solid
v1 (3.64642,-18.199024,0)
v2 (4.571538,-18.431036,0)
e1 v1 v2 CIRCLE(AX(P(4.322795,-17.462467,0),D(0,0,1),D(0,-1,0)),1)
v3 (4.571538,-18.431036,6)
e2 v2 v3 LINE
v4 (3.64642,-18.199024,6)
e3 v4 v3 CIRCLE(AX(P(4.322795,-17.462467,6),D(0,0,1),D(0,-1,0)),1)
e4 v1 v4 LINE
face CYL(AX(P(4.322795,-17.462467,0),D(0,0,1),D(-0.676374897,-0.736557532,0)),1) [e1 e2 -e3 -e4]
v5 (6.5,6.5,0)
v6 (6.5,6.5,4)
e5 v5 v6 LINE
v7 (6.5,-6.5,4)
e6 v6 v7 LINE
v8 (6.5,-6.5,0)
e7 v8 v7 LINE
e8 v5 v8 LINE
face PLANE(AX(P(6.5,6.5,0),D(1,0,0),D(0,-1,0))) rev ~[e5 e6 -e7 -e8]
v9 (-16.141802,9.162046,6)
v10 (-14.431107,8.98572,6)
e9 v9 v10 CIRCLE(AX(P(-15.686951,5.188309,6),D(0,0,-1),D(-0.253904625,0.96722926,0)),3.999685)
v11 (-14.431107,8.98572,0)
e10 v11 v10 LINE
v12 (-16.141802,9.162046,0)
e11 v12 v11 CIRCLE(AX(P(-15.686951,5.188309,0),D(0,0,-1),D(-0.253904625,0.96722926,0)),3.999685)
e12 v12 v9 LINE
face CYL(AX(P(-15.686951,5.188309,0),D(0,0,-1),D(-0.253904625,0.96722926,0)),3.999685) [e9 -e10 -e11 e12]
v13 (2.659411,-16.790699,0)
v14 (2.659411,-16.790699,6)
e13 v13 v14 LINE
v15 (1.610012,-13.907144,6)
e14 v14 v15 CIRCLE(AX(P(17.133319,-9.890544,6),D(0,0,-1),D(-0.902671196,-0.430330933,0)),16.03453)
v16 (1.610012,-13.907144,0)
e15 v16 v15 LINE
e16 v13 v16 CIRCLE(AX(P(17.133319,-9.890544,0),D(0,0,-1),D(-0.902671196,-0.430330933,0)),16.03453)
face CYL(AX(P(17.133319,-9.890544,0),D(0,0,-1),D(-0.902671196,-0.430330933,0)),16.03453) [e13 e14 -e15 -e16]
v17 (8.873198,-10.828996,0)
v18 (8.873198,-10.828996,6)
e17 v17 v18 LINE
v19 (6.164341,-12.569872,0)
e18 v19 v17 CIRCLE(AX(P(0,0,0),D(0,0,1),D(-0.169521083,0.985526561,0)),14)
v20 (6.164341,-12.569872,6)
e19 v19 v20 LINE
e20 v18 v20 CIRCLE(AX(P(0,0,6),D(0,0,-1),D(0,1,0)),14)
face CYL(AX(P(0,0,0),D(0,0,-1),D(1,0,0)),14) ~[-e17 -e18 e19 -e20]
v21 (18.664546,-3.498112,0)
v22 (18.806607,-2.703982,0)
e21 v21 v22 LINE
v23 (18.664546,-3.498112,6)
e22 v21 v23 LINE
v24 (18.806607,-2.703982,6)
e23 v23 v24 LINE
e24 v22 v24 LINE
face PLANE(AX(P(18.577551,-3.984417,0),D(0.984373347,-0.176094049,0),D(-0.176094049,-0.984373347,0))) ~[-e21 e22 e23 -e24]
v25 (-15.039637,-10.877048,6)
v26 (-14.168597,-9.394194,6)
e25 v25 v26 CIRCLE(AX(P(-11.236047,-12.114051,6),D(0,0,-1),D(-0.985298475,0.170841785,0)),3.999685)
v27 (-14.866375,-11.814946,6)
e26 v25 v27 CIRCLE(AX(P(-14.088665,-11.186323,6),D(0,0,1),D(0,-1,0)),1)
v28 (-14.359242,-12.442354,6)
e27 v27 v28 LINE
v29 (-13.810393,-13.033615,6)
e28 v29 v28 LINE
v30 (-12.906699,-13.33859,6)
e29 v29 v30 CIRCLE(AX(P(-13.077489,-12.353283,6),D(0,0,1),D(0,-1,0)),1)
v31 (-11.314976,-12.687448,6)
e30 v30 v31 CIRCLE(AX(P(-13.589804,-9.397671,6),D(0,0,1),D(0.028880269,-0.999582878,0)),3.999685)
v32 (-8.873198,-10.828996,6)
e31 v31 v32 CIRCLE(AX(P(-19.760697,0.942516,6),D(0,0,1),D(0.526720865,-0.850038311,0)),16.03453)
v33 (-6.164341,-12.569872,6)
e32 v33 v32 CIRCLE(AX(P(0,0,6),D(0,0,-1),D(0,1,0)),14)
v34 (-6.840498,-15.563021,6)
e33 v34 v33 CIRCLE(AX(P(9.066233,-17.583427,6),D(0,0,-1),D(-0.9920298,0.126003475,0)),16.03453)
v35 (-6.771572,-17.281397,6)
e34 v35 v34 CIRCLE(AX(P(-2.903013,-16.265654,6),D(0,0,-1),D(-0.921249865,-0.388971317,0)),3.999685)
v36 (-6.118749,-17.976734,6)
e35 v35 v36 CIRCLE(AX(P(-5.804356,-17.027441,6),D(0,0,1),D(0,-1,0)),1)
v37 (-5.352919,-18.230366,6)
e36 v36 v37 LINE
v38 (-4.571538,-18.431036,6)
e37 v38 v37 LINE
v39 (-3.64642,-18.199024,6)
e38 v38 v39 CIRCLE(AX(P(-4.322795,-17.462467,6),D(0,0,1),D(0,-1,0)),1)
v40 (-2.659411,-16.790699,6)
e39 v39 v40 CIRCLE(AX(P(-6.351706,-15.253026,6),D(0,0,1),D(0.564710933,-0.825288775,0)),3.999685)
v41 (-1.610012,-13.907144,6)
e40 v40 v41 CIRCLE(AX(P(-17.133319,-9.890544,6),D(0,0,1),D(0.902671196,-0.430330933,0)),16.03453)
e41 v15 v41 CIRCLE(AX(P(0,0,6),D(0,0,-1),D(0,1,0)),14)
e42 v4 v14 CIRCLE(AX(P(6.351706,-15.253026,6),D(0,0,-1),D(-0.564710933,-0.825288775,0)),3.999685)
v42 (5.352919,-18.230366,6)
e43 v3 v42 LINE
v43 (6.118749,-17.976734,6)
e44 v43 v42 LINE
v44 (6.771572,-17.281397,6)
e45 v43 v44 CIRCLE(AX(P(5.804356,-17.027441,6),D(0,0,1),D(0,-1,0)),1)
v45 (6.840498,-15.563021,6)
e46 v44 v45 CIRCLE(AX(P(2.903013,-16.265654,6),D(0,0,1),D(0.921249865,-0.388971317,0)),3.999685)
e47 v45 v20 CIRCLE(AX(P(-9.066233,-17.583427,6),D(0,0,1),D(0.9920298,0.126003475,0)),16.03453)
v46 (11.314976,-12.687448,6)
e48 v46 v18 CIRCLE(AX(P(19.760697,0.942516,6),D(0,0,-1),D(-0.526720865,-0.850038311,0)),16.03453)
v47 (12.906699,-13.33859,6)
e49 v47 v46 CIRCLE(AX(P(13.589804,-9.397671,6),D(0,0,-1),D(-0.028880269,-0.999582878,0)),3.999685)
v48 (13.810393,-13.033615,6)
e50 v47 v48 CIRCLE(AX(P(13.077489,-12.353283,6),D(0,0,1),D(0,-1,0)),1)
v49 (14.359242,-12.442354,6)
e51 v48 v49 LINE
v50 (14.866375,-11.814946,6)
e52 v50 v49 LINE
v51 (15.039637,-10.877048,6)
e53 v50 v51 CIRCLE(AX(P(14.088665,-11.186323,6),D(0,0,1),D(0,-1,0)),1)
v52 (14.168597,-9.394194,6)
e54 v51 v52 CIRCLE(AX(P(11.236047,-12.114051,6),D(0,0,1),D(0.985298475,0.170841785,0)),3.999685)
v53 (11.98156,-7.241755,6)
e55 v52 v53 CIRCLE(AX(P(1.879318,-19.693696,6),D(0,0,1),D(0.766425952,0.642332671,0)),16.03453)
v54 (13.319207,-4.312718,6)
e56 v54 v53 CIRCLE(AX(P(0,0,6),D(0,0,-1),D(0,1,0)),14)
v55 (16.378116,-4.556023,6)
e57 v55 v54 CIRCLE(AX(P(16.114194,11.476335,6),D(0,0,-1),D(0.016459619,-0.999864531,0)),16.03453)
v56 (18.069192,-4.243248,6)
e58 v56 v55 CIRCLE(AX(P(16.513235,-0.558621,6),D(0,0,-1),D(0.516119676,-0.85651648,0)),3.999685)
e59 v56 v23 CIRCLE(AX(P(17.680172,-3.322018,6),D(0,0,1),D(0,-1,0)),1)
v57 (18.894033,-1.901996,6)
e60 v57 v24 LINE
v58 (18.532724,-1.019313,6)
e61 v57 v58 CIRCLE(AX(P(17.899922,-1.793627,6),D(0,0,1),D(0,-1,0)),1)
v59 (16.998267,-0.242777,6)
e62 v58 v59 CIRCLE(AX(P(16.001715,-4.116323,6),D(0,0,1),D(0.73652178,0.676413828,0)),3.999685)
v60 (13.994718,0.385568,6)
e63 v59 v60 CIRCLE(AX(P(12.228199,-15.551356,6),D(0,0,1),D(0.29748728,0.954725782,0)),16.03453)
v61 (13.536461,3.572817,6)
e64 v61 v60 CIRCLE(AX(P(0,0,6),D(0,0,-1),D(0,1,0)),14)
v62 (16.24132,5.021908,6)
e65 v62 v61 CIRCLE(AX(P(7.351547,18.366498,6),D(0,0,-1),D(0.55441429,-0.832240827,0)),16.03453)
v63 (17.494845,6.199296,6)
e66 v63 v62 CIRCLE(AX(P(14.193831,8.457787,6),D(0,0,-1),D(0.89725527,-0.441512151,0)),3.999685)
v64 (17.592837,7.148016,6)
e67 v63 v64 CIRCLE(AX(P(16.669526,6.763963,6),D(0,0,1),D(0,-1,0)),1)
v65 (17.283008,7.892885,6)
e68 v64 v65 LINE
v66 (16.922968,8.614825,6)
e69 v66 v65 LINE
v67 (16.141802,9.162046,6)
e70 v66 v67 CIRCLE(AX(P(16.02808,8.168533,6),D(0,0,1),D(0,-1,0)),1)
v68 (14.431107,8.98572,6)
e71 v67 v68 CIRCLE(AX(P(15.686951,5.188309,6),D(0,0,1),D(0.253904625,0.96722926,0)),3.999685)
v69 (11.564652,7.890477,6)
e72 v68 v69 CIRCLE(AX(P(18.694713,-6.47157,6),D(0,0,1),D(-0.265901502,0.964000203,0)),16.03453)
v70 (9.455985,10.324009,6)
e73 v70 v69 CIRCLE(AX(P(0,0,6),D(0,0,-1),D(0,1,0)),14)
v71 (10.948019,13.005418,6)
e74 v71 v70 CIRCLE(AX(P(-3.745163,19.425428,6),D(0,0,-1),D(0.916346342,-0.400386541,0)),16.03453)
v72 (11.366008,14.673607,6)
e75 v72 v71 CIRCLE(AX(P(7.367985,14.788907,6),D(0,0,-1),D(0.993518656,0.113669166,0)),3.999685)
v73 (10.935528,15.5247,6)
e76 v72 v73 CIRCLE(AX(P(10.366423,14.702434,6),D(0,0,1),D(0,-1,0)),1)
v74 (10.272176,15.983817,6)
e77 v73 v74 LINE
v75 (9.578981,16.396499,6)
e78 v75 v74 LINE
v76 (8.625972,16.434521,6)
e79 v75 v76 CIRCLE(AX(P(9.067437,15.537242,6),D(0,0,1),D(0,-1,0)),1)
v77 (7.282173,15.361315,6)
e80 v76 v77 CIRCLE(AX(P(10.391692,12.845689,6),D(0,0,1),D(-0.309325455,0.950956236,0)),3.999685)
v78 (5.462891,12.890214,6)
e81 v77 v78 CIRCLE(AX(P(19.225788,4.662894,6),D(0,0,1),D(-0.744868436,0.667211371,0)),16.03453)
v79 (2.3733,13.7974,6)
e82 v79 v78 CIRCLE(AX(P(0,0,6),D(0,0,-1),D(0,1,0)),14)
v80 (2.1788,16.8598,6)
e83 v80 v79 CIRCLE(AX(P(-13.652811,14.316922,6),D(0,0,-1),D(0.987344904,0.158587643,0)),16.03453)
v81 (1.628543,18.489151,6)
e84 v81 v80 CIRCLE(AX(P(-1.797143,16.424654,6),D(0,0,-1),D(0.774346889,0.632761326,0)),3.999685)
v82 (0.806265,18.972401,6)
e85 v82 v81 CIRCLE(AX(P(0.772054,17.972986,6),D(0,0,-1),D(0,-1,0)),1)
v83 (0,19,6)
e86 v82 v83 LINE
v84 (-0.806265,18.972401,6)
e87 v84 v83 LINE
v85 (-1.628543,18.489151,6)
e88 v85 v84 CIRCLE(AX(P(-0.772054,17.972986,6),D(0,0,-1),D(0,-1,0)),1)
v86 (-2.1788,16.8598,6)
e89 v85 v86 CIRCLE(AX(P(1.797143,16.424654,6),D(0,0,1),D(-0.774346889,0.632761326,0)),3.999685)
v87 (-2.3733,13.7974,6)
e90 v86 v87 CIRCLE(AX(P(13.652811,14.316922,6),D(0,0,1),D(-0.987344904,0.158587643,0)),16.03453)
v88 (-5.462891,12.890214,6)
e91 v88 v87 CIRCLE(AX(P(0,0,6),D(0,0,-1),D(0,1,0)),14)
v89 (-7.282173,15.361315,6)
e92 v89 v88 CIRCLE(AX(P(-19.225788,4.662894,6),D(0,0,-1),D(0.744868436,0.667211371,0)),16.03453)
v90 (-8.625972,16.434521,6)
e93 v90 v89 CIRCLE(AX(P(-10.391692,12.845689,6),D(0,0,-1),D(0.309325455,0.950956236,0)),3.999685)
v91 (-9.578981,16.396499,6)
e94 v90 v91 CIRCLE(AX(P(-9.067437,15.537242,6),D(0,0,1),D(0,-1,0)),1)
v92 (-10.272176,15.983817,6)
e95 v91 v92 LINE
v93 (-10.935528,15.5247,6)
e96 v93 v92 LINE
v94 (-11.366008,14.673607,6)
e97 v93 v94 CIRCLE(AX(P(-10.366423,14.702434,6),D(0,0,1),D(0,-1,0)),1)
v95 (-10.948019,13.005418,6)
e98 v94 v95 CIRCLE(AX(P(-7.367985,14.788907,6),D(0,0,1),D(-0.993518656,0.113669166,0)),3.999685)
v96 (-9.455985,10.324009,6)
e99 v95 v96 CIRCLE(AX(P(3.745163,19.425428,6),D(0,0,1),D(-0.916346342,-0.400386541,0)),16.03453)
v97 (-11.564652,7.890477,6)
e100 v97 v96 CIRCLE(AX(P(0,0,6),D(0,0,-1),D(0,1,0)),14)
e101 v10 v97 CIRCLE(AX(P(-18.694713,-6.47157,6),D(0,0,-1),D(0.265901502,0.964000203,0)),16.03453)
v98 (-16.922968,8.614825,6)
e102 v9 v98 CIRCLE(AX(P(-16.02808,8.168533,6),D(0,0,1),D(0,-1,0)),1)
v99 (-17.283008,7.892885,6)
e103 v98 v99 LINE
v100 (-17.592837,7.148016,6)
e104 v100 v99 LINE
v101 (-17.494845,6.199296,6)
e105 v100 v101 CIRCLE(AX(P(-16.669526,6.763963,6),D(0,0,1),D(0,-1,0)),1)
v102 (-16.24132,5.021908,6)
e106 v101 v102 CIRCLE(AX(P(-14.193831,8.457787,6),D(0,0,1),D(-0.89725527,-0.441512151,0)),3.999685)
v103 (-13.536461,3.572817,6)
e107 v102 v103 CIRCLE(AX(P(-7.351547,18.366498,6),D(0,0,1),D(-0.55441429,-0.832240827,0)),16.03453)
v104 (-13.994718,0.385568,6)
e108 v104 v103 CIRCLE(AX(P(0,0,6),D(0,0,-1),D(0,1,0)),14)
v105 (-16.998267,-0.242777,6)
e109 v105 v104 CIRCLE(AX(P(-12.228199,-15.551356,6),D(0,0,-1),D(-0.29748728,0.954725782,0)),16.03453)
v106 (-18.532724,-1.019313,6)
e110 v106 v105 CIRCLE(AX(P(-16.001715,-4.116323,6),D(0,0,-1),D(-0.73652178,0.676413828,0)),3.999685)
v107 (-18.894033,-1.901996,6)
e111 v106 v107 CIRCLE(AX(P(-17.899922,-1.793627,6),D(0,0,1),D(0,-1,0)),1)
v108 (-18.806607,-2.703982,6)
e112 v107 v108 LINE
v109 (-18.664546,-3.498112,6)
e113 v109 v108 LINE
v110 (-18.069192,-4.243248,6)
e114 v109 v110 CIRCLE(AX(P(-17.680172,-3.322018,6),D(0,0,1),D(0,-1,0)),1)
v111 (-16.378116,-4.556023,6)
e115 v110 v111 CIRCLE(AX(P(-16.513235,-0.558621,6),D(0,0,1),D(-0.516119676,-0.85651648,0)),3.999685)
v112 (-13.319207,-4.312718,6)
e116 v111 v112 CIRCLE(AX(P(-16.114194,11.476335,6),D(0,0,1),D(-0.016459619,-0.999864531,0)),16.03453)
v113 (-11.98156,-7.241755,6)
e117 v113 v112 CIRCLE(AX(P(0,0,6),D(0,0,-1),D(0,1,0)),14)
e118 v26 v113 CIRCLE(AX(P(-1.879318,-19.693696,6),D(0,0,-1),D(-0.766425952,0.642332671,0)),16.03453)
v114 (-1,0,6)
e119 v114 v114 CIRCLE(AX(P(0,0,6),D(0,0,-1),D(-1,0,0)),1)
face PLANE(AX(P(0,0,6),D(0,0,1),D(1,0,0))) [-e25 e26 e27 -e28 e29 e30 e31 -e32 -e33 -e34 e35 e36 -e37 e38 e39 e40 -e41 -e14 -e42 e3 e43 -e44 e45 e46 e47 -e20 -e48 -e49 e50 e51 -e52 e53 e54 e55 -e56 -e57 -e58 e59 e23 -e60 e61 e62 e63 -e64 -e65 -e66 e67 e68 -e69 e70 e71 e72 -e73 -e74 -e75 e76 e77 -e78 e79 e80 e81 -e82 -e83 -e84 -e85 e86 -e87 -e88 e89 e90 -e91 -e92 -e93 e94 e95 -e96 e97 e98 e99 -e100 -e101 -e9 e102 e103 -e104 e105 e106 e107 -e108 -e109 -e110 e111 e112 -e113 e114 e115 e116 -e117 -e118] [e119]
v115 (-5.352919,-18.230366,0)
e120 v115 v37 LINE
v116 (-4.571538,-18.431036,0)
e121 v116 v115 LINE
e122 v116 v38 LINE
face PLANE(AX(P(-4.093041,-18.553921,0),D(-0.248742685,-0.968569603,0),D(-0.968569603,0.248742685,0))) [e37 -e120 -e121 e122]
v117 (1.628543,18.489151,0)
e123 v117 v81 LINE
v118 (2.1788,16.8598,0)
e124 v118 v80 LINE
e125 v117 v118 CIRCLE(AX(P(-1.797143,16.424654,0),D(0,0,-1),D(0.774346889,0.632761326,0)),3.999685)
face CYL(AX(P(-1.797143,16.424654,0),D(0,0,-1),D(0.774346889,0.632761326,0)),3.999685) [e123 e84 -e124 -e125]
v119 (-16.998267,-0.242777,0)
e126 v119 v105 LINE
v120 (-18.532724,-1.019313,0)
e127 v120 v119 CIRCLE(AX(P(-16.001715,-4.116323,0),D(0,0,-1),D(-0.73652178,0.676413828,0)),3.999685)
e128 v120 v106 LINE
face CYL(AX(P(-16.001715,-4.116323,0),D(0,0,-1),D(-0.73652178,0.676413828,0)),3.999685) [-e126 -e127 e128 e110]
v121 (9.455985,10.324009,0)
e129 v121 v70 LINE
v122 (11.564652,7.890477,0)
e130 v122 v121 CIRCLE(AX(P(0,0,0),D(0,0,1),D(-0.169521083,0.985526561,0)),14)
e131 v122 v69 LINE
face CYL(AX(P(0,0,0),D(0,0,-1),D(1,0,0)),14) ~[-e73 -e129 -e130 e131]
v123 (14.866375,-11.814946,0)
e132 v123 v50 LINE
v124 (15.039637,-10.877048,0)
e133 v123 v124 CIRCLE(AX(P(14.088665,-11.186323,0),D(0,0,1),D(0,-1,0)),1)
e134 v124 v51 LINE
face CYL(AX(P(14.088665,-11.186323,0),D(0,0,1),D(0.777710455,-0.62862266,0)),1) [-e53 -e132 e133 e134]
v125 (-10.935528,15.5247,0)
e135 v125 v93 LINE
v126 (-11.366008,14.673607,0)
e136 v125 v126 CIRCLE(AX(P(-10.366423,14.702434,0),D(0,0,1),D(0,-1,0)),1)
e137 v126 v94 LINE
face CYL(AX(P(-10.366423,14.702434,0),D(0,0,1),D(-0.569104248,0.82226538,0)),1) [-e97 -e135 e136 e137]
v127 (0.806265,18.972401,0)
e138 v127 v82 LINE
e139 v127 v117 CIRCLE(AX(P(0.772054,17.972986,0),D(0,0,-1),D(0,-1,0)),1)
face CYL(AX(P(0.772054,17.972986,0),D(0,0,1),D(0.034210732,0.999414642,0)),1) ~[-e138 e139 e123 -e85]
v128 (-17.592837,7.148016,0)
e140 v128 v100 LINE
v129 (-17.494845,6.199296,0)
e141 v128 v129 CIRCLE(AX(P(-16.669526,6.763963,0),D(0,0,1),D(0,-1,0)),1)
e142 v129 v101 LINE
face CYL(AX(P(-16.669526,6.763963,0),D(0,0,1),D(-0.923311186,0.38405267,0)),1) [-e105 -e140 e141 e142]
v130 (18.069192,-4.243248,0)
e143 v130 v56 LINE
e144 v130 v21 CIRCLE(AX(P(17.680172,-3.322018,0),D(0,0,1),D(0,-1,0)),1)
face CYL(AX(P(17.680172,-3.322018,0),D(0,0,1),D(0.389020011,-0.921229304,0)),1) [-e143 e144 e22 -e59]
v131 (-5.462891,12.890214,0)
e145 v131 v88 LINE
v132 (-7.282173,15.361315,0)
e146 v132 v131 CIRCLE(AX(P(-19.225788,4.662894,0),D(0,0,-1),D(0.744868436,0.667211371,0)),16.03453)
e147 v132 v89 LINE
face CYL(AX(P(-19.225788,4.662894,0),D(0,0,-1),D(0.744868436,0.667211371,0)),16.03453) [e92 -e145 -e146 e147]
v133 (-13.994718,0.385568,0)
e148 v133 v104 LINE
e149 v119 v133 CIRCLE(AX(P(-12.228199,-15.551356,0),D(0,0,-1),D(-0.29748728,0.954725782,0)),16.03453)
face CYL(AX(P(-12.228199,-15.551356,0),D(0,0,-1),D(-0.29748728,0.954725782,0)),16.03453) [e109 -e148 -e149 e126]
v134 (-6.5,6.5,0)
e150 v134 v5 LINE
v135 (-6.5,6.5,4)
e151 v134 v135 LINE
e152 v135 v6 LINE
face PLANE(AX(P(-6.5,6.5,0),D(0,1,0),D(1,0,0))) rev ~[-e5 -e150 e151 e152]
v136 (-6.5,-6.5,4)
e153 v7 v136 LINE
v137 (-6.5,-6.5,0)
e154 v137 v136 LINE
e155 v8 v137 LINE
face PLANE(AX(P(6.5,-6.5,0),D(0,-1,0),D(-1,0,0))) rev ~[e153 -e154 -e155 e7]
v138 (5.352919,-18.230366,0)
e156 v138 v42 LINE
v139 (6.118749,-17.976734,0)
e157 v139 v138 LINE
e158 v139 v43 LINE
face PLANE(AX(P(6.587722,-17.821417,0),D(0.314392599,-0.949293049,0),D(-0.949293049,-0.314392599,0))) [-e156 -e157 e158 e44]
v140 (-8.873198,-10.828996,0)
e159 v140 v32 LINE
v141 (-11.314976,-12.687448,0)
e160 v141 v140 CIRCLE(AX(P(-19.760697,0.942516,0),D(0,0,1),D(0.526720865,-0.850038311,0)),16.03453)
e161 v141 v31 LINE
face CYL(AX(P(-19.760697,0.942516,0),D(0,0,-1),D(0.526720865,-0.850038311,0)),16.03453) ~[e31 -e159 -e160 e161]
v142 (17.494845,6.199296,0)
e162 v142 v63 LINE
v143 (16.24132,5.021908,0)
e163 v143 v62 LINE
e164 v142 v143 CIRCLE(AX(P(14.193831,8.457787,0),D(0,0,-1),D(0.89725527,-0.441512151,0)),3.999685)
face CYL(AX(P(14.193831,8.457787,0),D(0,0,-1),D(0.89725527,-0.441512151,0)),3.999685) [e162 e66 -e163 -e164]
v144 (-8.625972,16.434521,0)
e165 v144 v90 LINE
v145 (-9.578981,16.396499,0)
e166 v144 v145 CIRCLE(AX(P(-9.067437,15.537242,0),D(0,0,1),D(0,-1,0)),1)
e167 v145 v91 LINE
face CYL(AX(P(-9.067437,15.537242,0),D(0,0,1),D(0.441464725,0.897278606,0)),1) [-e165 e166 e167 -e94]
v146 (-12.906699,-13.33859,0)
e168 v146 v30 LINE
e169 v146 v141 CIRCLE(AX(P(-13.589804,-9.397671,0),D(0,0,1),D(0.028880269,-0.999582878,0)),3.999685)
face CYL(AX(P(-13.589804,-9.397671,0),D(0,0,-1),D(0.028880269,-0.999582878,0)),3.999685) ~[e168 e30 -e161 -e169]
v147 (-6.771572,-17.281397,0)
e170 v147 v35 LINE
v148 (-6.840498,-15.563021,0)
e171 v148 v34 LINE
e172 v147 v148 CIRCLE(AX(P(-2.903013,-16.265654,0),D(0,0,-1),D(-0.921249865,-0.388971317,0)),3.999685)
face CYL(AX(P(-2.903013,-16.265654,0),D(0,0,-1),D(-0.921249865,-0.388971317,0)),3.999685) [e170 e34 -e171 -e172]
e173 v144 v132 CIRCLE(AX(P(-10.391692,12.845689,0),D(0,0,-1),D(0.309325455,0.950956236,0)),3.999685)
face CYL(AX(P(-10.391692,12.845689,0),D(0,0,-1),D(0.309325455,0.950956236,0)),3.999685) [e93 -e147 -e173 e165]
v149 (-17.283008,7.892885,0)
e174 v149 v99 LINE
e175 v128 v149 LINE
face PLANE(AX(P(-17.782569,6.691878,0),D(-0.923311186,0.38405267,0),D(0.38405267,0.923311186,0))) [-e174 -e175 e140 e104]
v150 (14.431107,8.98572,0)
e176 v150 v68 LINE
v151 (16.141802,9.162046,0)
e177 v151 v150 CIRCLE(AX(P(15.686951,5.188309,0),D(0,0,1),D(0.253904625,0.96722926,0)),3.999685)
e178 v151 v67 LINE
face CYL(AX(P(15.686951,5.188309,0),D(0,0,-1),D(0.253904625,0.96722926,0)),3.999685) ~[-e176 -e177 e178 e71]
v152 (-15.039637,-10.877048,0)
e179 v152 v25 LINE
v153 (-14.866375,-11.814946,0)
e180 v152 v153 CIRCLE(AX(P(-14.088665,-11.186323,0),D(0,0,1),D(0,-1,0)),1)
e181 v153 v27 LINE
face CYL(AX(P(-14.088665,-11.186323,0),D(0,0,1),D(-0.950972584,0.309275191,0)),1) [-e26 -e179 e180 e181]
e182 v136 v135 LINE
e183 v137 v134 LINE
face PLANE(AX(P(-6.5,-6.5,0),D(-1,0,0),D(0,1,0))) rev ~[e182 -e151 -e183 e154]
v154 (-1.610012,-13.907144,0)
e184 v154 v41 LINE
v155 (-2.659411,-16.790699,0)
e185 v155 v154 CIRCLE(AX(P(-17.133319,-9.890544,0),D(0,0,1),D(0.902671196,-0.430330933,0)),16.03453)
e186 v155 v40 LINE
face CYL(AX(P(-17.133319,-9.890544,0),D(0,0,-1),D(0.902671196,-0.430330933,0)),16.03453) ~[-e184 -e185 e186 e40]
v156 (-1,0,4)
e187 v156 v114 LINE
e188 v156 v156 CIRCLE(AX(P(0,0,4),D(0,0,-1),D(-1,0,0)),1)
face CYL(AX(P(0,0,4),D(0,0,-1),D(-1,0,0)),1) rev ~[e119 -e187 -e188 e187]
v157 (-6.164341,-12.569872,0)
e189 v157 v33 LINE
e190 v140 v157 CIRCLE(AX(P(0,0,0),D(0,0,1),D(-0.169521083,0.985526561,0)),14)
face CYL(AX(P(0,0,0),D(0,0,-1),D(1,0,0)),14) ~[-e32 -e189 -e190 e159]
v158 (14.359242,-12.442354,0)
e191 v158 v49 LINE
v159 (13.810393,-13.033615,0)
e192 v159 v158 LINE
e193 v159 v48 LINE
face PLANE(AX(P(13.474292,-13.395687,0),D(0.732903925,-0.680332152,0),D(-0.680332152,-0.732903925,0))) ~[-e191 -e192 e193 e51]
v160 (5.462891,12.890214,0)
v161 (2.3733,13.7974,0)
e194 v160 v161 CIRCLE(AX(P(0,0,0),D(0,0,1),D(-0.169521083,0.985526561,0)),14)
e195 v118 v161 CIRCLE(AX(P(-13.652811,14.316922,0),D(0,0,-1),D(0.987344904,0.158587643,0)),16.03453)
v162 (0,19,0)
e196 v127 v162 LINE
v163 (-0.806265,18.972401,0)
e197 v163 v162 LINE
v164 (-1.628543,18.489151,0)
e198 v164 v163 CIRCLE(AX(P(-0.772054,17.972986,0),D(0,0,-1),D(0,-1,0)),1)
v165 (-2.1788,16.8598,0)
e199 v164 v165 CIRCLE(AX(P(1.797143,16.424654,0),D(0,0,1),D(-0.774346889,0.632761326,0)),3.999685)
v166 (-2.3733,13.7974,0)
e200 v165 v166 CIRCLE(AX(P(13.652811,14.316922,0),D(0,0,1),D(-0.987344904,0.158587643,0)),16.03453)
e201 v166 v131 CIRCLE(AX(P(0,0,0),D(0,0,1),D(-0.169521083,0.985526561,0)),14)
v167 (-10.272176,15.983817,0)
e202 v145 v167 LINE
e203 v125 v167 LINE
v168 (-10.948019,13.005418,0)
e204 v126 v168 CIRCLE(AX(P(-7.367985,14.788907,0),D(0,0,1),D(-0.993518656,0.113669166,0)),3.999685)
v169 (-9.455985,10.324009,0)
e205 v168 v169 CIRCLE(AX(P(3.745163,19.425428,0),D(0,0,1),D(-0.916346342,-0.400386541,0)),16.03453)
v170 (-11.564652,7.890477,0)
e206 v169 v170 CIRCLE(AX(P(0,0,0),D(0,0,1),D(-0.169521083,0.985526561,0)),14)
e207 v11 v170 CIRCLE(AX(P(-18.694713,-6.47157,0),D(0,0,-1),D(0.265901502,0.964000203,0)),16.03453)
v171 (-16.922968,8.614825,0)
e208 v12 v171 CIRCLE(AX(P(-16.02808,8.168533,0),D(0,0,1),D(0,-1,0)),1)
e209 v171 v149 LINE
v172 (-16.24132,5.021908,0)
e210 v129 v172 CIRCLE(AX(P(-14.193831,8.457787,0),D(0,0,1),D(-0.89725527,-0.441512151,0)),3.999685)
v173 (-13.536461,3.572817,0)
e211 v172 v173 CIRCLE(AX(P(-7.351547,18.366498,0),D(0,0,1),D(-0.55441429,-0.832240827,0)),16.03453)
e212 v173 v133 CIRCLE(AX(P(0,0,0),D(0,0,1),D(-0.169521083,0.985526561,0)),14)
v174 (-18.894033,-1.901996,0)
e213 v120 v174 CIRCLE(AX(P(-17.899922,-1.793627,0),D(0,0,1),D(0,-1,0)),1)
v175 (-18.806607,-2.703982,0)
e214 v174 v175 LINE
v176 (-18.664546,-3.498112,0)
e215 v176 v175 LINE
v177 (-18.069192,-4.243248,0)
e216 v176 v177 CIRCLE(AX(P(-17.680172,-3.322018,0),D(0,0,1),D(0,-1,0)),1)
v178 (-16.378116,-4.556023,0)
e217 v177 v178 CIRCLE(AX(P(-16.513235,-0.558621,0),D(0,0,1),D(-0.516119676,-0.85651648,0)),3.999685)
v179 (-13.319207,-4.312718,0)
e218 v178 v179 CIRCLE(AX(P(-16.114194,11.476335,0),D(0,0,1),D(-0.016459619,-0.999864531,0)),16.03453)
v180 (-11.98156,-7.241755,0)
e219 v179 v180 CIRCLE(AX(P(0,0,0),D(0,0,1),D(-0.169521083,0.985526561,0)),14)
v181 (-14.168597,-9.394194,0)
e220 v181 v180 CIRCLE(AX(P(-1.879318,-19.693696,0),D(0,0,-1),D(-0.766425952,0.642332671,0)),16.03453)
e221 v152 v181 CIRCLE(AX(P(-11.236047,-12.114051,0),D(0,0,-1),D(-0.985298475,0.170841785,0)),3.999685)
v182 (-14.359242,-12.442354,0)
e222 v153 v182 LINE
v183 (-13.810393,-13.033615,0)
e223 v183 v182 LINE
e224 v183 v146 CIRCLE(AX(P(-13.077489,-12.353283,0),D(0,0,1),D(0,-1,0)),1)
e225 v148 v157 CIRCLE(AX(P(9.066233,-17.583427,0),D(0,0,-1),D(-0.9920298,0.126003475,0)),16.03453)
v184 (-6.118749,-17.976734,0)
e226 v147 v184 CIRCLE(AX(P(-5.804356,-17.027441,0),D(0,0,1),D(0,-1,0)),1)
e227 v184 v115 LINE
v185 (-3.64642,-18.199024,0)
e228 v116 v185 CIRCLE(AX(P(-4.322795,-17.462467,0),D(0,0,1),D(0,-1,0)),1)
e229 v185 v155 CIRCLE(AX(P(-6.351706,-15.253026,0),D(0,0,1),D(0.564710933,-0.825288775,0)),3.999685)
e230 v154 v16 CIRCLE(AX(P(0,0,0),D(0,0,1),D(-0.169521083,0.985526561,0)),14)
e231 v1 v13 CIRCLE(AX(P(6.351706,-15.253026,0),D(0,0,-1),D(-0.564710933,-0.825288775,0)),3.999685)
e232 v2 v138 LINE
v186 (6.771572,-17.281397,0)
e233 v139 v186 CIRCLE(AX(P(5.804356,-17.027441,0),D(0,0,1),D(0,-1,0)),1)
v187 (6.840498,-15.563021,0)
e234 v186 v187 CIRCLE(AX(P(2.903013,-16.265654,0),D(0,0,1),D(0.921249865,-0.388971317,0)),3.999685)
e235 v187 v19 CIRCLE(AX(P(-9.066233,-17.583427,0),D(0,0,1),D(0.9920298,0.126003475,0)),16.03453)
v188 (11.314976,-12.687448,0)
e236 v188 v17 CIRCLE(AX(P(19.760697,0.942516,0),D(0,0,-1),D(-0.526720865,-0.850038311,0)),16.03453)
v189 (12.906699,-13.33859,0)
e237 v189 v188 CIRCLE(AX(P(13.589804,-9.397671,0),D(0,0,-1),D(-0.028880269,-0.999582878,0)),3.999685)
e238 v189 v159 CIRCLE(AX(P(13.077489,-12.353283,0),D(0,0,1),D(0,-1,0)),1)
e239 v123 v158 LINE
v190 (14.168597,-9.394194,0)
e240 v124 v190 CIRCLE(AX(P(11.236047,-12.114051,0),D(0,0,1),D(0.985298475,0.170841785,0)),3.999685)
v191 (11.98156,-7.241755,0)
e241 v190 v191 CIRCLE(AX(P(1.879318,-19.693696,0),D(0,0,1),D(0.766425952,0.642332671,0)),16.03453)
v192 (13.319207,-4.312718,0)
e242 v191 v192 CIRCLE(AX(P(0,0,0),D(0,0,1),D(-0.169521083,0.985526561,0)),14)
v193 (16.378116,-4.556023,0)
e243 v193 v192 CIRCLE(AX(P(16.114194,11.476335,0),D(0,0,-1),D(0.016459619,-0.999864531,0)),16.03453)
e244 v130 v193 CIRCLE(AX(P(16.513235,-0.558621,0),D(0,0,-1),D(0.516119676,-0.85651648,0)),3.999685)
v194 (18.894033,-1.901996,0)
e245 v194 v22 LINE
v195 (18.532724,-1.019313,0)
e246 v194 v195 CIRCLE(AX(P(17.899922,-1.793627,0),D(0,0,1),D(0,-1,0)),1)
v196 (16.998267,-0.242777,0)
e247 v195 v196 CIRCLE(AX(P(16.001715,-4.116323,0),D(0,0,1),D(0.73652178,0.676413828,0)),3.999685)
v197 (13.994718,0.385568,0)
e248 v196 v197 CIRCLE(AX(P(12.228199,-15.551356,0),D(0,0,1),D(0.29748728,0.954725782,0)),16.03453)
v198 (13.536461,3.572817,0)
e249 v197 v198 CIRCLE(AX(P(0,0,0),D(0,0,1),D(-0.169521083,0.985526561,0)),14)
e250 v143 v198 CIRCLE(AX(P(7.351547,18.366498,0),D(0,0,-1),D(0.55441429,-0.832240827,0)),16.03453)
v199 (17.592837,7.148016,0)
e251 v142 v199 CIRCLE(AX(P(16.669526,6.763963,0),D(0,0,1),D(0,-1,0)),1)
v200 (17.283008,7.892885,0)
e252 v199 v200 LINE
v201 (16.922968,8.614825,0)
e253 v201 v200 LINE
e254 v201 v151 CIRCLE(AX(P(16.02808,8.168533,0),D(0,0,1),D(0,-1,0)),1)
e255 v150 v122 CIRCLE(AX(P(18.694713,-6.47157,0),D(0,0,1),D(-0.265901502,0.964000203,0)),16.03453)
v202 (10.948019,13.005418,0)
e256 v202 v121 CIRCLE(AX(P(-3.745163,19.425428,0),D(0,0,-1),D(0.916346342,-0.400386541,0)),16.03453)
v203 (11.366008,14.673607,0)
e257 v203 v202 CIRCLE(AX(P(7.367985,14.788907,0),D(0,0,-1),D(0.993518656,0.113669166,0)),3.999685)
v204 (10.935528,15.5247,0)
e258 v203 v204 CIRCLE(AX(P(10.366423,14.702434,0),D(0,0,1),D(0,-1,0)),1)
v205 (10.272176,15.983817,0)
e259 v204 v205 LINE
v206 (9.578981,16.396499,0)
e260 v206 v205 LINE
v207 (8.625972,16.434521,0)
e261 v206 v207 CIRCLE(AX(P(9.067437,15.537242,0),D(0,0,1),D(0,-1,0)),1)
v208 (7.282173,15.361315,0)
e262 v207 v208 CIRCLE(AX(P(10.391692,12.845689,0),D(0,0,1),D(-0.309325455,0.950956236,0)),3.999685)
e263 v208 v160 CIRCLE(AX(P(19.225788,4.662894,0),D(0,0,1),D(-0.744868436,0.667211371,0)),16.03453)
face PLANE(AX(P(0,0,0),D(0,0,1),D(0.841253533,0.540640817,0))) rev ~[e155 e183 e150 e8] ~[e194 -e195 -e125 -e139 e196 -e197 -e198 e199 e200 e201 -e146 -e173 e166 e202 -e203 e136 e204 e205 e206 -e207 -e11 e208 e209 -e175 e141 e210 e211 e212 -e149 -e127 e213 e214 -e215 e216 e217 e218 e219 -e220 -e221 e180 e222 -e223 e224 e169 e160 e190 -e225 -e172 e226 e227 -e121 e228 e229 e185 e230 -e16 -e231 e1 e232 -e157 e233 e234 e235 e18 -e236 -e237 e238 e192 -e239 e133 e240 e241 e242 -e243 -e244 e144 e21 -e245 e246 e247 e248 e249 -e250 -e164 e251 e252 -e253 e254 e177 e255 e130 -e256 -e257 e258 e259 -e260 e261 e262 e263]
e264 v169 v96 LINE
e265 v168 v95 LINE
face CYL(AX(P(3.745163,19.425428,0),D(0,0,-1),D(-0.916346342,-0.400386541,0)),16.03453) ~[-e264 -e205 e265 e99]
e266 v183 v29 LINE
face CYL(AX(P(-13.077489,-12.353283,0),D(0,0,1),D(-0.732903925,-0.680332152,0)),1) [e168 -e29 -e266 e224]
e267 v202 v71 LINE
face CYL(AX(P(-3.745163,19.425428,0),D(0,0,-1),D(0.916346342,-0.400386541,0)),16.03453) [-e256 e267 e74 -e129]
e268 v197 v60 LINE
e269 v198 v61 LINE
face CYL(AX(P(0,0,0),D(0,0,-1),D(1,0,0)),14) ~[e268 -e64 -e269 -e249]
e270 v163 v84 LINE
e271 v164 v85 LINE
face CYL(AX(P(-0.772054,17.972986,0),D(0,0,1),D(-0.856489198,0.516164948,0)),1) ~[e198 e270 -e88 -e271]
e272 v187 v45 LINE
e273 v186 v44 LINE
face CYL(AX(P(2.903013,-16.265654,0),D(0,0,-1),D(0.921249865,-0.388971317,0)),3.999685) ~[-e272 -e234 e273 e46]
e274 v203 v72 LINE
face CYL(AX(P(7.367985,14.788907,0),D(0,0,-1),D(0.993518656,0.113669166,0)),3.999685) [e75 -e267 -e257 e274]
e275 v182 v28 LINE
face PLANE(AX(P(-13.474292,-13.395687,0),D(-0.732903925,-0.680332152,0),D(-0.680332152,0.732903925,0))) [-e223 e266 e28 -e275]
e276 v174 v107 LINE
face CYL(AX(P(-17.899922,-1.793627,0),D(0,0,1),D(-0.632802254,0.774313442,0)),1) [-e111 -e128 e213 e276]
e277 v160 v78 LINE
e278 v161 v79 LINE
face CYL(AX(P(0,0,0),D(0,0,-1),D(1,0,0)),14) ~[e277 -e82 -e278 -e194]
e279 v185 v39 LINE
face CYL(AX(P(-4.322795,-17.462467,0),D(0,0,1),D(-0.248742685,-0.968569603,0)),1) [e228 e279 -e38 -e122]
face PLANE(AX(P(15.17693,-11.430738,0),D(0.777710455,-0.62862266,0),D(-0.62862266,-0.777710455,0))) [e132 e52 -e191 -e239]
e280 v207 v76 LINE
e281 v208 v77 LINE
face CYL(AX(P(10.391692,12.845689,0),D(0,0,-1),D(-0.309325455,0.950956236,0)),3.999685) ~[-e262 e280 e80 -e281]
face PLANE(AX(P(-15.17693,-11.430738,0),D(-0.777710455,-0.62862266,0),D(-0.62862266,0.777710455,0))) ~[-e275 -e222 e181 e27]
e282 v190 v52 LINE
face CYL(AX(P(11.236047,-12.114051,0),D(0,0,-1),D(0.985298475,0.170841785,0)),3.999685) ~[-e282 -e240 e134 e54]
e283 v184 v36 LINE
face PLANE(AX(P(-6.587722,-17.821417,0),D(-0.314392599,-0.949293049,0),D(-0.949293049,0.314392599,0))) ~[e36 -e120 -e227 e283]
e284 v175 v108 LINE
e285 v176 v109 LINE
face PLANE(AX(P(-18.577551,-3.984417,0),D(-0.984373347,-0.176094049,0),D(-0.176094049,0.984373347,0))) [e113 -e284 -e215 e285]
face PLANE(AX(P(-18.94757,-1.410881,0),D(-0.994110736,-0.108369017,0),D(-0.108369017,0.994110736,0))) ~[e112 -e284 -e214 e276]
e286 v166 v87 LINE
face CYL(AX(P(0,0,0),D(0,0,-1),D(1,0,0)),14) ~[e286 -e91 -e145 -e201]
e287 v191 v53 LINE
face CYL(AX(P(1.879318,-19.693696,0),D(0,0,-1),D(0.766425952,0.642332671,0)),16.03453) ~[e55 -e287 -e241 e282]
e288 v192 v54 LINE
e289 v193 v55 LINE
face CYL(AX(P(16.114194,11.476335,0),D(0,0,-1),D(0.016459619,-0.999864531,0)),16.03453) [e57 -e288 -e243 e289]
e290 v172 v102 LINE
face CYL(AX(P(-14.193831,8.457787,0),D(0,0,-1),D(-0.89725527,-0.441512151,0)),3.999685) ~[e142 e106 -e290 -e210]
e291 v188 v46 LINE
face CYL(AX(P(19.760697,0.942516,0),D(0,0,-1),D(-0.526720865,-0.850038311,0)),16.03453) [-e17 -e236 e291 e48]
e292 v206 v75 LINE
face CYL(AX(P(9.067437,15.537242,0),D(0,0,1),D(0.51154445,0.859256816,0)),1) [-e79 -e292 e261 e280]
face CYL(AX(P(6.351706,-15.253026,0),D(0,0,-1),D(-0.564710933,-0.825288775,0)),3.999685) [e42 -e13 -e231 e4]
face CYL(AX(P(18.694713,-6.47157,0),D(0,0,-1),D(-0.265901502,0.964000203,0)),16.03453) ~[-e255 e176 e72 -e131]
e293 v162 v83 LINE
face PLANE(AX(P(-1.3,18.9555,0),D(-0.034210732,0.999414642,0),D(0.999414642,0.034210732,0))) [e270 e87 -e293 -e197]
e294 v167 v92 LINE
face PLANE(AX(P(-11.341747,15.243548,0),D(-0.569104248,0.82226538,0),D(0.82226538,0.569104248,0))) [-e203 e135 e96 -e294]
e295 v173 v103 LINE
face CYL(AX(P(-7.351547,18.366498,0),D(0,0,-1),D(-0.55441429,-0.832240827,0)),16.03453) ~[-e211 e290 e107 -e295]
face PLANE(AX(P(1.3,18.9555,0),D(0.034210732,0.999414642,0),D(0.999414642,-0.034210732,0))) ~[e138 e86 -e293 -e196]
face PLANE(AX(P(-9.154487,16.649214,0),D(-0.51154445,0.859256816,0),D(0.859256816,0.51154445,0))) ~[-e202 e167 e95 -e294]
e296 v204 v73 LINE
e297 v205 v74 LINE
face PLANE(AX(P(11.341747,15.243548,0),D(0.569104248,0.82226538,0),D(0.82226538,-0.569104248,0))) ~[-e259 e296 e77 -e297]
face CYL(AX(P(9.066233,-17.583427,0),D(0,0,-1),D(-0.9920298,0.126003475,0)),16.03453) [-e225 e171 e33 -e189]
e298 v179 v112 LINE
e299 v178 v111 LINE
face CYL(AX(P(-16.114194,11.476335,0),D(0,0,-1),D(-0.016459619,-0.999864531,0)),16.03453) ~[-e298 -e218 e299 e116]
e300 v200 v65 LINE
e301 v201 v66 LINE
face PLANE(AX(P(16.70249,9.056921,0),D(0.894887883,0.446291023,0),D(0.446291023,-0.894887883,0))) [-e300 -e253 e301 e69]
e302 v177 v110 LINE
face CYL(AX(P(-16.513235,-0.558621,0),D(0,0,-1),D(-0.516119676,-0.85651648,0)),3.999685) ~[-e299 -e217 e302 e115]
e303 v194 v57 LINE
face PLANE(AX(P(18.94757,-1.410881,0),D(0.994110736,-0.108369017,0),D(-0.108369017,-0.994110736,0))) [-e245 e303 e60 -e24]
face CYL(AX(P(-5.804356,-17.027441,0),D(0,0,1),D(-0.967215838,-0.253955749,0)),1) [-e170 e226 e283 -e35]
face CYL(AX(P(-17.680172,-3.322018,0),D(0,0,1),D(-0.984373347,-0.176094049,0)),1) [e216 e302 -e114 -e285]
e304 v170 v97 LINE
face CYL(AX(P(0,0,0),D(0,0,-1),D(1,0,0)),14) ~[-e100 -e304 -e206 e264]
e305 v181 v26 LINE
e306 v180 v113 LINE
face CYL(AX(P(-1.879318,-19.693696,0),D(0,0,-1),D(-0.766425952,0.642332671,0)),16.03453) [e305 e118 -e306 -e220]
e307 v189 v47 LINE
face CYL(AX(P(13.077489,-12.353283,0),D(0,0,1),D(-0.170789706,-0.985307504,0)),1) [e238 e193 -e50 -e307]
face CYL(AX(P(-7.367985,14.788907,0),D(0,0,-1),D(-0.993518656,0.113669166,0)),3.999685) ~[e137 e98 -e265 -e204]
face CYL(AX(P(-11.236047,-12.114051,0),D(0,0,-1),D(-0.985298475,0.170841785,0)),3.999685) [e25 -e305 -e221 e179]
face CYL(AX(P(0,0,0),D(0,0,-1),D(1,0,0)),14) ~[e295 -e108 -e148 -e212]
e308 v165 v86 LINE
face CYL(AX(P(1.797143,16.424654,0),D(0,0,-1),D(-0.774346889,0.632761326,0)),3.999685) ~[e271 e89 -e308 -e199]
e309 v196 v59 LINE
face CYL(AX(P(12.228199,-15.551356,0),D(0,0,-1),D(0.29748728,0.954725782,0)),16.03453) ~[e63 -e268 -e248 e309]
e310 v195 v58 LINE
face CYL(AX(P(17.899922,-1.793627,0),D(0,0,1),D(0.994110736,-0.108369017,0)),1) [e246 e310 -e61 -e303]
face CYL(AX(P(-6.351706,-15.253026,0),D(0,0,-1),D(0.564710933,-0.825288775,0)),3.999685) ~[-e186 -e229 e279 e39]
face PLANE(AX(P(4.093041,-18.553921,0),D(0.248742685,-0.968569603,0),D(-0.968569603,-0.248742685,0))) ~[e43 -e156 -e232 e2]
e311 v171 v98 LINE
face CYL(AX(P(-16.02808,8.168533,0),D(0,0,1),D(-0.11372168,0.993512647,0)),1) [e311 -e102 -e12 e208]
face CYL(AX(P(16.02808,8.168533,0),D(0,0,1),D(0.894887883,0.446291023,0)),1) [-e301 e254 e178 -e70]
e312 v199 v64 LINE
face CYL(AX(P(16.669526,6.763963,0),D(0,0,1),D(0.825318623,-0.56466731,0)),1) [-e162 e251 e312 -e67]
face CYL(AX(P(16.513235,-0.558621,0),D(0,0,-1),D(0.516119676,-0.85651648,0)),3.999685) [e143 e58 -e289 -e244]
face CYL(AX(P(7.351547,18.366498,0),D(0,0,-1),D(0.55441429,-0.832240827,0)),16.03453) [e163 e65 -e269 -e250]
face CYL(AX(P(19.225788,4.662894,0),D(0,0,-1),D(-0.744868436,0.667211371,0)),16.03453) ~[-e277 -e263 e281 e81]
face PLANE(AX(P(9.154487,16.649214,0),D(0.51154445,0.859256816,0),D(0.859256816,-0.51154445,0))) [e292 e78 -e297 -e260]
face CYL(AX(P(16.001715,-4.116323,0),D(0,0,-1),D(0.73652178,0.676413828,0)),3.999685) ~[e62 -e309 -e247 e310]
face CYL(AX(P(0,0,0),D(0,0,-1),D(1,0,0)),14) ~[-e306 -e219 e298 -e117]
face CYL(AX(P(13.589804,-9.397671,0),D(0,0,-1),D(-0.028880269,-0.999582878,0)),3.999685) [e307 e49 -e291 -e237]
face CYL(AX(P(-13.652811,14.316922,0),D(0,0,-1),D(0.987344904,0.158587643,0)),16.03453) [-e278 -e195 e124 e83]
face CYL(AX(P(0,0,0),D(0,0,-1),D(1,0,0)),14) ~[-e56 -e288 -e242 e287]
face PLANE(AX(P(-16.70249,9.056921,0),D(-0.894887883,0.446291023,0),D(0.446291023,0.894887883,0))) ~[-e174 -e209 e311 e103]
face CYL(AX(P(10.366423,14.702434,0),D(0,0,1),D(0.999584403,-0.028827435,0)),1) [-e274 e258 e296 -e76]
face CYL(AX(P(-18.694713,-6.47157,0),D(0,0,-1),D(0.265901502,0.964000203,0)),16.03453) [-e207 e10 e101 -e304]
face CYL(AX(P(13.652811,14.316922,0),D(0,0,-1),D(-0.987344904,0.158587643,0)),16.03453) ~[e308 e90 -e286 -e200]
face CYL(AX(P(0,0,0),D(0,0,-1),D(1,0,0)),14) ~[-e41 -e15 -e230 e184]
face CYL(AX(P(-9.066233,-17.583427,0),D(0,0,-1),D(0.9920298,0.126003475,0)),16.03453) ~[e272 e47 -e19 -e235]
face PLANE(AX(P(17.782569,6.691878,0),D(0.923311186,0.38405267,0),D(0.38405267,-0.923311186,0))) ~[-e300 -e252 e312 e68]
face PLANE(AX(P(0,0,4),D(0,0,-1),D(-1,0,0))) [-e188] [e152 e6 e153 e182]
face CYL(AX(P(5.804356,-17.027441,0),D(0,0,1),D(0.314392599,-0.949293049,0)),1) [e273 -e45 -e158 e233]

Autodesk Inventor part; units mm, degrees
ref_plane "YZ Plane" through (0, 0, 0) normal (1, 0, 0) x (0, 1, 0)
ref_plane "XZ Plane" through (0, 0, 0) normal (0, 1, 0) x (-1, 0, 0)
ref_plane "XY Plane" through (0, 0, 0) normal (0, 0, 1) x (1, 0, 0)
sketch "Skizze1" plane through (0, 0, 0) normal (0, 0, 1) x (1, 0, 0)
  circle A0 centre (0, 0) radius 14
  dimension "d0" = 28
extrude "Extrusion1" add sketch "Skizze1" along normal blind 6
sketch "Skizze2" plane through (0, 0, 0) normal (0, 0, 1) x (1, 0, 0)
  circle A0 centre (0, 0) radius 14 projected
  line L0 (0, 26.61) -> (0, -26.6017) projected
  line L1 (-26.6, 0) -> (26.6, 0) projected
  circle A1 centre (0, 0) radius 19
  circle A2 centre (0, 0) radius 17
  line L2 (0, 0) -> (5.3529, 18.2304)
  line L3 (0, 0) -> (-5.3529, 18.2304)
  line L4 (0, 0) -> (-2.4352, 18.8433)
  arc A3 (-2.1788, 16.8598) -> (-2.2, 13.8261) centre (7.6946, 15.2739) ccw
  arc A4 (-1.3, 18.9555) -> (-2.1788, 16.8598) centre (1.7974, 16.4245) ccw
  line L5 (-2.3733, 13.7974) -> (0, 13.7974)
  line L6 (0, 13.7974) -> (0, 19)
  line L7 (-1.3, 18.9555) -> (0, 19)
  arc A5 (-2.1788, 16.8598) -> (-2.3733, 13.7974) centre (13.6539, 14.3168) ccw
  arc A6 (-1.3, 18.9555) -> (-2.1788, 16.8598) centre (1.7974, 16.4245) ccw
  line L8 (-2.3733, 13.7974) -> (0, 13.7974)
  line L9 (0, 13.7974) -> (0, 19)
  line L10 (0, 19) -> (-1.3, 18.9555)
  dimension "d4" = 34
  dimension "d3" = 38
  dimension "d5" = 16.364
  dimension "d6" = 16.364
  dimension "d7" = 7.364
  dimension "d8" = 2.2
  dimension "d9" = 1.3
  dimension "d10" = 4
  dimension "d11" = 10
extrude "Extrusion2" add sketch "Skizze2" along normal blind 6 contours A0 L4 L5 | A3 L4 A0 | A0 A5 A3 | L4 A2 L0 A0 | A0 L0 L5 L4 | A4 L7 L0 A2
mirror "Spiegeln1" about plane through (0, 13.7974, 0) normal (1, 0, 0) of "Extrusion2"
pattern_circular "Runde Anordnung1" count 11 over 360 about axis through (0, 0, -10) along (0, 0, 1) of "Extrusion2", "Spiegeln1"
fillet "Rundung1" radius 1 2 edges at (-1.3, 18.9555, 3) (1.3, 18.9555, 3)
pattern_circular "Runde Anordnung2" count 11 over 360 about axis through (0, 0, -10) along (0, 0, 1) of "Rundung1"
sketch "Skizze3" plane through (0, 0, 0) normal (0, 0, -1) x (-1, 0, 0)
  line L0 (6.5, 6.5) -> (-6.5, 6.5)
  line L1 (-6.5, 6.5) -> (-6.5, -6.5)
  line L2 (-6.5, -6.5) -> (6.5, -6.5)
  line L3 (6.5, -6.5) -> (6.5, 6.5)
  line L4 (6.5, 6.5) -> (-6.5, -6.5) construction
  line L5 (-6.5, 6.5) -> (6.5, -6.5) construction
  point P0 (0, 0)
  dimension "d21" = 13
  dimension "d22" = 13
extrude "Extrusion3" cut sketch "Skizze3" against normal blind 4
sketch "Skizze4" plane through (0, 0, 4) normal (0, 0, -1) x (-1, 0, 0)
  circle A0 centre (0, 0) radius 1
  dimension "d25" = 2
extrude "Extrusion4" cut sketch "Skizze4" against normal blind 3
equation "\"d6\" = d5"
equation "\"d7\" = 0.45 * d6"
equation "\"d22\" = d21"
properties part number "Zahnrad" material "ABS-Kunststoff"
